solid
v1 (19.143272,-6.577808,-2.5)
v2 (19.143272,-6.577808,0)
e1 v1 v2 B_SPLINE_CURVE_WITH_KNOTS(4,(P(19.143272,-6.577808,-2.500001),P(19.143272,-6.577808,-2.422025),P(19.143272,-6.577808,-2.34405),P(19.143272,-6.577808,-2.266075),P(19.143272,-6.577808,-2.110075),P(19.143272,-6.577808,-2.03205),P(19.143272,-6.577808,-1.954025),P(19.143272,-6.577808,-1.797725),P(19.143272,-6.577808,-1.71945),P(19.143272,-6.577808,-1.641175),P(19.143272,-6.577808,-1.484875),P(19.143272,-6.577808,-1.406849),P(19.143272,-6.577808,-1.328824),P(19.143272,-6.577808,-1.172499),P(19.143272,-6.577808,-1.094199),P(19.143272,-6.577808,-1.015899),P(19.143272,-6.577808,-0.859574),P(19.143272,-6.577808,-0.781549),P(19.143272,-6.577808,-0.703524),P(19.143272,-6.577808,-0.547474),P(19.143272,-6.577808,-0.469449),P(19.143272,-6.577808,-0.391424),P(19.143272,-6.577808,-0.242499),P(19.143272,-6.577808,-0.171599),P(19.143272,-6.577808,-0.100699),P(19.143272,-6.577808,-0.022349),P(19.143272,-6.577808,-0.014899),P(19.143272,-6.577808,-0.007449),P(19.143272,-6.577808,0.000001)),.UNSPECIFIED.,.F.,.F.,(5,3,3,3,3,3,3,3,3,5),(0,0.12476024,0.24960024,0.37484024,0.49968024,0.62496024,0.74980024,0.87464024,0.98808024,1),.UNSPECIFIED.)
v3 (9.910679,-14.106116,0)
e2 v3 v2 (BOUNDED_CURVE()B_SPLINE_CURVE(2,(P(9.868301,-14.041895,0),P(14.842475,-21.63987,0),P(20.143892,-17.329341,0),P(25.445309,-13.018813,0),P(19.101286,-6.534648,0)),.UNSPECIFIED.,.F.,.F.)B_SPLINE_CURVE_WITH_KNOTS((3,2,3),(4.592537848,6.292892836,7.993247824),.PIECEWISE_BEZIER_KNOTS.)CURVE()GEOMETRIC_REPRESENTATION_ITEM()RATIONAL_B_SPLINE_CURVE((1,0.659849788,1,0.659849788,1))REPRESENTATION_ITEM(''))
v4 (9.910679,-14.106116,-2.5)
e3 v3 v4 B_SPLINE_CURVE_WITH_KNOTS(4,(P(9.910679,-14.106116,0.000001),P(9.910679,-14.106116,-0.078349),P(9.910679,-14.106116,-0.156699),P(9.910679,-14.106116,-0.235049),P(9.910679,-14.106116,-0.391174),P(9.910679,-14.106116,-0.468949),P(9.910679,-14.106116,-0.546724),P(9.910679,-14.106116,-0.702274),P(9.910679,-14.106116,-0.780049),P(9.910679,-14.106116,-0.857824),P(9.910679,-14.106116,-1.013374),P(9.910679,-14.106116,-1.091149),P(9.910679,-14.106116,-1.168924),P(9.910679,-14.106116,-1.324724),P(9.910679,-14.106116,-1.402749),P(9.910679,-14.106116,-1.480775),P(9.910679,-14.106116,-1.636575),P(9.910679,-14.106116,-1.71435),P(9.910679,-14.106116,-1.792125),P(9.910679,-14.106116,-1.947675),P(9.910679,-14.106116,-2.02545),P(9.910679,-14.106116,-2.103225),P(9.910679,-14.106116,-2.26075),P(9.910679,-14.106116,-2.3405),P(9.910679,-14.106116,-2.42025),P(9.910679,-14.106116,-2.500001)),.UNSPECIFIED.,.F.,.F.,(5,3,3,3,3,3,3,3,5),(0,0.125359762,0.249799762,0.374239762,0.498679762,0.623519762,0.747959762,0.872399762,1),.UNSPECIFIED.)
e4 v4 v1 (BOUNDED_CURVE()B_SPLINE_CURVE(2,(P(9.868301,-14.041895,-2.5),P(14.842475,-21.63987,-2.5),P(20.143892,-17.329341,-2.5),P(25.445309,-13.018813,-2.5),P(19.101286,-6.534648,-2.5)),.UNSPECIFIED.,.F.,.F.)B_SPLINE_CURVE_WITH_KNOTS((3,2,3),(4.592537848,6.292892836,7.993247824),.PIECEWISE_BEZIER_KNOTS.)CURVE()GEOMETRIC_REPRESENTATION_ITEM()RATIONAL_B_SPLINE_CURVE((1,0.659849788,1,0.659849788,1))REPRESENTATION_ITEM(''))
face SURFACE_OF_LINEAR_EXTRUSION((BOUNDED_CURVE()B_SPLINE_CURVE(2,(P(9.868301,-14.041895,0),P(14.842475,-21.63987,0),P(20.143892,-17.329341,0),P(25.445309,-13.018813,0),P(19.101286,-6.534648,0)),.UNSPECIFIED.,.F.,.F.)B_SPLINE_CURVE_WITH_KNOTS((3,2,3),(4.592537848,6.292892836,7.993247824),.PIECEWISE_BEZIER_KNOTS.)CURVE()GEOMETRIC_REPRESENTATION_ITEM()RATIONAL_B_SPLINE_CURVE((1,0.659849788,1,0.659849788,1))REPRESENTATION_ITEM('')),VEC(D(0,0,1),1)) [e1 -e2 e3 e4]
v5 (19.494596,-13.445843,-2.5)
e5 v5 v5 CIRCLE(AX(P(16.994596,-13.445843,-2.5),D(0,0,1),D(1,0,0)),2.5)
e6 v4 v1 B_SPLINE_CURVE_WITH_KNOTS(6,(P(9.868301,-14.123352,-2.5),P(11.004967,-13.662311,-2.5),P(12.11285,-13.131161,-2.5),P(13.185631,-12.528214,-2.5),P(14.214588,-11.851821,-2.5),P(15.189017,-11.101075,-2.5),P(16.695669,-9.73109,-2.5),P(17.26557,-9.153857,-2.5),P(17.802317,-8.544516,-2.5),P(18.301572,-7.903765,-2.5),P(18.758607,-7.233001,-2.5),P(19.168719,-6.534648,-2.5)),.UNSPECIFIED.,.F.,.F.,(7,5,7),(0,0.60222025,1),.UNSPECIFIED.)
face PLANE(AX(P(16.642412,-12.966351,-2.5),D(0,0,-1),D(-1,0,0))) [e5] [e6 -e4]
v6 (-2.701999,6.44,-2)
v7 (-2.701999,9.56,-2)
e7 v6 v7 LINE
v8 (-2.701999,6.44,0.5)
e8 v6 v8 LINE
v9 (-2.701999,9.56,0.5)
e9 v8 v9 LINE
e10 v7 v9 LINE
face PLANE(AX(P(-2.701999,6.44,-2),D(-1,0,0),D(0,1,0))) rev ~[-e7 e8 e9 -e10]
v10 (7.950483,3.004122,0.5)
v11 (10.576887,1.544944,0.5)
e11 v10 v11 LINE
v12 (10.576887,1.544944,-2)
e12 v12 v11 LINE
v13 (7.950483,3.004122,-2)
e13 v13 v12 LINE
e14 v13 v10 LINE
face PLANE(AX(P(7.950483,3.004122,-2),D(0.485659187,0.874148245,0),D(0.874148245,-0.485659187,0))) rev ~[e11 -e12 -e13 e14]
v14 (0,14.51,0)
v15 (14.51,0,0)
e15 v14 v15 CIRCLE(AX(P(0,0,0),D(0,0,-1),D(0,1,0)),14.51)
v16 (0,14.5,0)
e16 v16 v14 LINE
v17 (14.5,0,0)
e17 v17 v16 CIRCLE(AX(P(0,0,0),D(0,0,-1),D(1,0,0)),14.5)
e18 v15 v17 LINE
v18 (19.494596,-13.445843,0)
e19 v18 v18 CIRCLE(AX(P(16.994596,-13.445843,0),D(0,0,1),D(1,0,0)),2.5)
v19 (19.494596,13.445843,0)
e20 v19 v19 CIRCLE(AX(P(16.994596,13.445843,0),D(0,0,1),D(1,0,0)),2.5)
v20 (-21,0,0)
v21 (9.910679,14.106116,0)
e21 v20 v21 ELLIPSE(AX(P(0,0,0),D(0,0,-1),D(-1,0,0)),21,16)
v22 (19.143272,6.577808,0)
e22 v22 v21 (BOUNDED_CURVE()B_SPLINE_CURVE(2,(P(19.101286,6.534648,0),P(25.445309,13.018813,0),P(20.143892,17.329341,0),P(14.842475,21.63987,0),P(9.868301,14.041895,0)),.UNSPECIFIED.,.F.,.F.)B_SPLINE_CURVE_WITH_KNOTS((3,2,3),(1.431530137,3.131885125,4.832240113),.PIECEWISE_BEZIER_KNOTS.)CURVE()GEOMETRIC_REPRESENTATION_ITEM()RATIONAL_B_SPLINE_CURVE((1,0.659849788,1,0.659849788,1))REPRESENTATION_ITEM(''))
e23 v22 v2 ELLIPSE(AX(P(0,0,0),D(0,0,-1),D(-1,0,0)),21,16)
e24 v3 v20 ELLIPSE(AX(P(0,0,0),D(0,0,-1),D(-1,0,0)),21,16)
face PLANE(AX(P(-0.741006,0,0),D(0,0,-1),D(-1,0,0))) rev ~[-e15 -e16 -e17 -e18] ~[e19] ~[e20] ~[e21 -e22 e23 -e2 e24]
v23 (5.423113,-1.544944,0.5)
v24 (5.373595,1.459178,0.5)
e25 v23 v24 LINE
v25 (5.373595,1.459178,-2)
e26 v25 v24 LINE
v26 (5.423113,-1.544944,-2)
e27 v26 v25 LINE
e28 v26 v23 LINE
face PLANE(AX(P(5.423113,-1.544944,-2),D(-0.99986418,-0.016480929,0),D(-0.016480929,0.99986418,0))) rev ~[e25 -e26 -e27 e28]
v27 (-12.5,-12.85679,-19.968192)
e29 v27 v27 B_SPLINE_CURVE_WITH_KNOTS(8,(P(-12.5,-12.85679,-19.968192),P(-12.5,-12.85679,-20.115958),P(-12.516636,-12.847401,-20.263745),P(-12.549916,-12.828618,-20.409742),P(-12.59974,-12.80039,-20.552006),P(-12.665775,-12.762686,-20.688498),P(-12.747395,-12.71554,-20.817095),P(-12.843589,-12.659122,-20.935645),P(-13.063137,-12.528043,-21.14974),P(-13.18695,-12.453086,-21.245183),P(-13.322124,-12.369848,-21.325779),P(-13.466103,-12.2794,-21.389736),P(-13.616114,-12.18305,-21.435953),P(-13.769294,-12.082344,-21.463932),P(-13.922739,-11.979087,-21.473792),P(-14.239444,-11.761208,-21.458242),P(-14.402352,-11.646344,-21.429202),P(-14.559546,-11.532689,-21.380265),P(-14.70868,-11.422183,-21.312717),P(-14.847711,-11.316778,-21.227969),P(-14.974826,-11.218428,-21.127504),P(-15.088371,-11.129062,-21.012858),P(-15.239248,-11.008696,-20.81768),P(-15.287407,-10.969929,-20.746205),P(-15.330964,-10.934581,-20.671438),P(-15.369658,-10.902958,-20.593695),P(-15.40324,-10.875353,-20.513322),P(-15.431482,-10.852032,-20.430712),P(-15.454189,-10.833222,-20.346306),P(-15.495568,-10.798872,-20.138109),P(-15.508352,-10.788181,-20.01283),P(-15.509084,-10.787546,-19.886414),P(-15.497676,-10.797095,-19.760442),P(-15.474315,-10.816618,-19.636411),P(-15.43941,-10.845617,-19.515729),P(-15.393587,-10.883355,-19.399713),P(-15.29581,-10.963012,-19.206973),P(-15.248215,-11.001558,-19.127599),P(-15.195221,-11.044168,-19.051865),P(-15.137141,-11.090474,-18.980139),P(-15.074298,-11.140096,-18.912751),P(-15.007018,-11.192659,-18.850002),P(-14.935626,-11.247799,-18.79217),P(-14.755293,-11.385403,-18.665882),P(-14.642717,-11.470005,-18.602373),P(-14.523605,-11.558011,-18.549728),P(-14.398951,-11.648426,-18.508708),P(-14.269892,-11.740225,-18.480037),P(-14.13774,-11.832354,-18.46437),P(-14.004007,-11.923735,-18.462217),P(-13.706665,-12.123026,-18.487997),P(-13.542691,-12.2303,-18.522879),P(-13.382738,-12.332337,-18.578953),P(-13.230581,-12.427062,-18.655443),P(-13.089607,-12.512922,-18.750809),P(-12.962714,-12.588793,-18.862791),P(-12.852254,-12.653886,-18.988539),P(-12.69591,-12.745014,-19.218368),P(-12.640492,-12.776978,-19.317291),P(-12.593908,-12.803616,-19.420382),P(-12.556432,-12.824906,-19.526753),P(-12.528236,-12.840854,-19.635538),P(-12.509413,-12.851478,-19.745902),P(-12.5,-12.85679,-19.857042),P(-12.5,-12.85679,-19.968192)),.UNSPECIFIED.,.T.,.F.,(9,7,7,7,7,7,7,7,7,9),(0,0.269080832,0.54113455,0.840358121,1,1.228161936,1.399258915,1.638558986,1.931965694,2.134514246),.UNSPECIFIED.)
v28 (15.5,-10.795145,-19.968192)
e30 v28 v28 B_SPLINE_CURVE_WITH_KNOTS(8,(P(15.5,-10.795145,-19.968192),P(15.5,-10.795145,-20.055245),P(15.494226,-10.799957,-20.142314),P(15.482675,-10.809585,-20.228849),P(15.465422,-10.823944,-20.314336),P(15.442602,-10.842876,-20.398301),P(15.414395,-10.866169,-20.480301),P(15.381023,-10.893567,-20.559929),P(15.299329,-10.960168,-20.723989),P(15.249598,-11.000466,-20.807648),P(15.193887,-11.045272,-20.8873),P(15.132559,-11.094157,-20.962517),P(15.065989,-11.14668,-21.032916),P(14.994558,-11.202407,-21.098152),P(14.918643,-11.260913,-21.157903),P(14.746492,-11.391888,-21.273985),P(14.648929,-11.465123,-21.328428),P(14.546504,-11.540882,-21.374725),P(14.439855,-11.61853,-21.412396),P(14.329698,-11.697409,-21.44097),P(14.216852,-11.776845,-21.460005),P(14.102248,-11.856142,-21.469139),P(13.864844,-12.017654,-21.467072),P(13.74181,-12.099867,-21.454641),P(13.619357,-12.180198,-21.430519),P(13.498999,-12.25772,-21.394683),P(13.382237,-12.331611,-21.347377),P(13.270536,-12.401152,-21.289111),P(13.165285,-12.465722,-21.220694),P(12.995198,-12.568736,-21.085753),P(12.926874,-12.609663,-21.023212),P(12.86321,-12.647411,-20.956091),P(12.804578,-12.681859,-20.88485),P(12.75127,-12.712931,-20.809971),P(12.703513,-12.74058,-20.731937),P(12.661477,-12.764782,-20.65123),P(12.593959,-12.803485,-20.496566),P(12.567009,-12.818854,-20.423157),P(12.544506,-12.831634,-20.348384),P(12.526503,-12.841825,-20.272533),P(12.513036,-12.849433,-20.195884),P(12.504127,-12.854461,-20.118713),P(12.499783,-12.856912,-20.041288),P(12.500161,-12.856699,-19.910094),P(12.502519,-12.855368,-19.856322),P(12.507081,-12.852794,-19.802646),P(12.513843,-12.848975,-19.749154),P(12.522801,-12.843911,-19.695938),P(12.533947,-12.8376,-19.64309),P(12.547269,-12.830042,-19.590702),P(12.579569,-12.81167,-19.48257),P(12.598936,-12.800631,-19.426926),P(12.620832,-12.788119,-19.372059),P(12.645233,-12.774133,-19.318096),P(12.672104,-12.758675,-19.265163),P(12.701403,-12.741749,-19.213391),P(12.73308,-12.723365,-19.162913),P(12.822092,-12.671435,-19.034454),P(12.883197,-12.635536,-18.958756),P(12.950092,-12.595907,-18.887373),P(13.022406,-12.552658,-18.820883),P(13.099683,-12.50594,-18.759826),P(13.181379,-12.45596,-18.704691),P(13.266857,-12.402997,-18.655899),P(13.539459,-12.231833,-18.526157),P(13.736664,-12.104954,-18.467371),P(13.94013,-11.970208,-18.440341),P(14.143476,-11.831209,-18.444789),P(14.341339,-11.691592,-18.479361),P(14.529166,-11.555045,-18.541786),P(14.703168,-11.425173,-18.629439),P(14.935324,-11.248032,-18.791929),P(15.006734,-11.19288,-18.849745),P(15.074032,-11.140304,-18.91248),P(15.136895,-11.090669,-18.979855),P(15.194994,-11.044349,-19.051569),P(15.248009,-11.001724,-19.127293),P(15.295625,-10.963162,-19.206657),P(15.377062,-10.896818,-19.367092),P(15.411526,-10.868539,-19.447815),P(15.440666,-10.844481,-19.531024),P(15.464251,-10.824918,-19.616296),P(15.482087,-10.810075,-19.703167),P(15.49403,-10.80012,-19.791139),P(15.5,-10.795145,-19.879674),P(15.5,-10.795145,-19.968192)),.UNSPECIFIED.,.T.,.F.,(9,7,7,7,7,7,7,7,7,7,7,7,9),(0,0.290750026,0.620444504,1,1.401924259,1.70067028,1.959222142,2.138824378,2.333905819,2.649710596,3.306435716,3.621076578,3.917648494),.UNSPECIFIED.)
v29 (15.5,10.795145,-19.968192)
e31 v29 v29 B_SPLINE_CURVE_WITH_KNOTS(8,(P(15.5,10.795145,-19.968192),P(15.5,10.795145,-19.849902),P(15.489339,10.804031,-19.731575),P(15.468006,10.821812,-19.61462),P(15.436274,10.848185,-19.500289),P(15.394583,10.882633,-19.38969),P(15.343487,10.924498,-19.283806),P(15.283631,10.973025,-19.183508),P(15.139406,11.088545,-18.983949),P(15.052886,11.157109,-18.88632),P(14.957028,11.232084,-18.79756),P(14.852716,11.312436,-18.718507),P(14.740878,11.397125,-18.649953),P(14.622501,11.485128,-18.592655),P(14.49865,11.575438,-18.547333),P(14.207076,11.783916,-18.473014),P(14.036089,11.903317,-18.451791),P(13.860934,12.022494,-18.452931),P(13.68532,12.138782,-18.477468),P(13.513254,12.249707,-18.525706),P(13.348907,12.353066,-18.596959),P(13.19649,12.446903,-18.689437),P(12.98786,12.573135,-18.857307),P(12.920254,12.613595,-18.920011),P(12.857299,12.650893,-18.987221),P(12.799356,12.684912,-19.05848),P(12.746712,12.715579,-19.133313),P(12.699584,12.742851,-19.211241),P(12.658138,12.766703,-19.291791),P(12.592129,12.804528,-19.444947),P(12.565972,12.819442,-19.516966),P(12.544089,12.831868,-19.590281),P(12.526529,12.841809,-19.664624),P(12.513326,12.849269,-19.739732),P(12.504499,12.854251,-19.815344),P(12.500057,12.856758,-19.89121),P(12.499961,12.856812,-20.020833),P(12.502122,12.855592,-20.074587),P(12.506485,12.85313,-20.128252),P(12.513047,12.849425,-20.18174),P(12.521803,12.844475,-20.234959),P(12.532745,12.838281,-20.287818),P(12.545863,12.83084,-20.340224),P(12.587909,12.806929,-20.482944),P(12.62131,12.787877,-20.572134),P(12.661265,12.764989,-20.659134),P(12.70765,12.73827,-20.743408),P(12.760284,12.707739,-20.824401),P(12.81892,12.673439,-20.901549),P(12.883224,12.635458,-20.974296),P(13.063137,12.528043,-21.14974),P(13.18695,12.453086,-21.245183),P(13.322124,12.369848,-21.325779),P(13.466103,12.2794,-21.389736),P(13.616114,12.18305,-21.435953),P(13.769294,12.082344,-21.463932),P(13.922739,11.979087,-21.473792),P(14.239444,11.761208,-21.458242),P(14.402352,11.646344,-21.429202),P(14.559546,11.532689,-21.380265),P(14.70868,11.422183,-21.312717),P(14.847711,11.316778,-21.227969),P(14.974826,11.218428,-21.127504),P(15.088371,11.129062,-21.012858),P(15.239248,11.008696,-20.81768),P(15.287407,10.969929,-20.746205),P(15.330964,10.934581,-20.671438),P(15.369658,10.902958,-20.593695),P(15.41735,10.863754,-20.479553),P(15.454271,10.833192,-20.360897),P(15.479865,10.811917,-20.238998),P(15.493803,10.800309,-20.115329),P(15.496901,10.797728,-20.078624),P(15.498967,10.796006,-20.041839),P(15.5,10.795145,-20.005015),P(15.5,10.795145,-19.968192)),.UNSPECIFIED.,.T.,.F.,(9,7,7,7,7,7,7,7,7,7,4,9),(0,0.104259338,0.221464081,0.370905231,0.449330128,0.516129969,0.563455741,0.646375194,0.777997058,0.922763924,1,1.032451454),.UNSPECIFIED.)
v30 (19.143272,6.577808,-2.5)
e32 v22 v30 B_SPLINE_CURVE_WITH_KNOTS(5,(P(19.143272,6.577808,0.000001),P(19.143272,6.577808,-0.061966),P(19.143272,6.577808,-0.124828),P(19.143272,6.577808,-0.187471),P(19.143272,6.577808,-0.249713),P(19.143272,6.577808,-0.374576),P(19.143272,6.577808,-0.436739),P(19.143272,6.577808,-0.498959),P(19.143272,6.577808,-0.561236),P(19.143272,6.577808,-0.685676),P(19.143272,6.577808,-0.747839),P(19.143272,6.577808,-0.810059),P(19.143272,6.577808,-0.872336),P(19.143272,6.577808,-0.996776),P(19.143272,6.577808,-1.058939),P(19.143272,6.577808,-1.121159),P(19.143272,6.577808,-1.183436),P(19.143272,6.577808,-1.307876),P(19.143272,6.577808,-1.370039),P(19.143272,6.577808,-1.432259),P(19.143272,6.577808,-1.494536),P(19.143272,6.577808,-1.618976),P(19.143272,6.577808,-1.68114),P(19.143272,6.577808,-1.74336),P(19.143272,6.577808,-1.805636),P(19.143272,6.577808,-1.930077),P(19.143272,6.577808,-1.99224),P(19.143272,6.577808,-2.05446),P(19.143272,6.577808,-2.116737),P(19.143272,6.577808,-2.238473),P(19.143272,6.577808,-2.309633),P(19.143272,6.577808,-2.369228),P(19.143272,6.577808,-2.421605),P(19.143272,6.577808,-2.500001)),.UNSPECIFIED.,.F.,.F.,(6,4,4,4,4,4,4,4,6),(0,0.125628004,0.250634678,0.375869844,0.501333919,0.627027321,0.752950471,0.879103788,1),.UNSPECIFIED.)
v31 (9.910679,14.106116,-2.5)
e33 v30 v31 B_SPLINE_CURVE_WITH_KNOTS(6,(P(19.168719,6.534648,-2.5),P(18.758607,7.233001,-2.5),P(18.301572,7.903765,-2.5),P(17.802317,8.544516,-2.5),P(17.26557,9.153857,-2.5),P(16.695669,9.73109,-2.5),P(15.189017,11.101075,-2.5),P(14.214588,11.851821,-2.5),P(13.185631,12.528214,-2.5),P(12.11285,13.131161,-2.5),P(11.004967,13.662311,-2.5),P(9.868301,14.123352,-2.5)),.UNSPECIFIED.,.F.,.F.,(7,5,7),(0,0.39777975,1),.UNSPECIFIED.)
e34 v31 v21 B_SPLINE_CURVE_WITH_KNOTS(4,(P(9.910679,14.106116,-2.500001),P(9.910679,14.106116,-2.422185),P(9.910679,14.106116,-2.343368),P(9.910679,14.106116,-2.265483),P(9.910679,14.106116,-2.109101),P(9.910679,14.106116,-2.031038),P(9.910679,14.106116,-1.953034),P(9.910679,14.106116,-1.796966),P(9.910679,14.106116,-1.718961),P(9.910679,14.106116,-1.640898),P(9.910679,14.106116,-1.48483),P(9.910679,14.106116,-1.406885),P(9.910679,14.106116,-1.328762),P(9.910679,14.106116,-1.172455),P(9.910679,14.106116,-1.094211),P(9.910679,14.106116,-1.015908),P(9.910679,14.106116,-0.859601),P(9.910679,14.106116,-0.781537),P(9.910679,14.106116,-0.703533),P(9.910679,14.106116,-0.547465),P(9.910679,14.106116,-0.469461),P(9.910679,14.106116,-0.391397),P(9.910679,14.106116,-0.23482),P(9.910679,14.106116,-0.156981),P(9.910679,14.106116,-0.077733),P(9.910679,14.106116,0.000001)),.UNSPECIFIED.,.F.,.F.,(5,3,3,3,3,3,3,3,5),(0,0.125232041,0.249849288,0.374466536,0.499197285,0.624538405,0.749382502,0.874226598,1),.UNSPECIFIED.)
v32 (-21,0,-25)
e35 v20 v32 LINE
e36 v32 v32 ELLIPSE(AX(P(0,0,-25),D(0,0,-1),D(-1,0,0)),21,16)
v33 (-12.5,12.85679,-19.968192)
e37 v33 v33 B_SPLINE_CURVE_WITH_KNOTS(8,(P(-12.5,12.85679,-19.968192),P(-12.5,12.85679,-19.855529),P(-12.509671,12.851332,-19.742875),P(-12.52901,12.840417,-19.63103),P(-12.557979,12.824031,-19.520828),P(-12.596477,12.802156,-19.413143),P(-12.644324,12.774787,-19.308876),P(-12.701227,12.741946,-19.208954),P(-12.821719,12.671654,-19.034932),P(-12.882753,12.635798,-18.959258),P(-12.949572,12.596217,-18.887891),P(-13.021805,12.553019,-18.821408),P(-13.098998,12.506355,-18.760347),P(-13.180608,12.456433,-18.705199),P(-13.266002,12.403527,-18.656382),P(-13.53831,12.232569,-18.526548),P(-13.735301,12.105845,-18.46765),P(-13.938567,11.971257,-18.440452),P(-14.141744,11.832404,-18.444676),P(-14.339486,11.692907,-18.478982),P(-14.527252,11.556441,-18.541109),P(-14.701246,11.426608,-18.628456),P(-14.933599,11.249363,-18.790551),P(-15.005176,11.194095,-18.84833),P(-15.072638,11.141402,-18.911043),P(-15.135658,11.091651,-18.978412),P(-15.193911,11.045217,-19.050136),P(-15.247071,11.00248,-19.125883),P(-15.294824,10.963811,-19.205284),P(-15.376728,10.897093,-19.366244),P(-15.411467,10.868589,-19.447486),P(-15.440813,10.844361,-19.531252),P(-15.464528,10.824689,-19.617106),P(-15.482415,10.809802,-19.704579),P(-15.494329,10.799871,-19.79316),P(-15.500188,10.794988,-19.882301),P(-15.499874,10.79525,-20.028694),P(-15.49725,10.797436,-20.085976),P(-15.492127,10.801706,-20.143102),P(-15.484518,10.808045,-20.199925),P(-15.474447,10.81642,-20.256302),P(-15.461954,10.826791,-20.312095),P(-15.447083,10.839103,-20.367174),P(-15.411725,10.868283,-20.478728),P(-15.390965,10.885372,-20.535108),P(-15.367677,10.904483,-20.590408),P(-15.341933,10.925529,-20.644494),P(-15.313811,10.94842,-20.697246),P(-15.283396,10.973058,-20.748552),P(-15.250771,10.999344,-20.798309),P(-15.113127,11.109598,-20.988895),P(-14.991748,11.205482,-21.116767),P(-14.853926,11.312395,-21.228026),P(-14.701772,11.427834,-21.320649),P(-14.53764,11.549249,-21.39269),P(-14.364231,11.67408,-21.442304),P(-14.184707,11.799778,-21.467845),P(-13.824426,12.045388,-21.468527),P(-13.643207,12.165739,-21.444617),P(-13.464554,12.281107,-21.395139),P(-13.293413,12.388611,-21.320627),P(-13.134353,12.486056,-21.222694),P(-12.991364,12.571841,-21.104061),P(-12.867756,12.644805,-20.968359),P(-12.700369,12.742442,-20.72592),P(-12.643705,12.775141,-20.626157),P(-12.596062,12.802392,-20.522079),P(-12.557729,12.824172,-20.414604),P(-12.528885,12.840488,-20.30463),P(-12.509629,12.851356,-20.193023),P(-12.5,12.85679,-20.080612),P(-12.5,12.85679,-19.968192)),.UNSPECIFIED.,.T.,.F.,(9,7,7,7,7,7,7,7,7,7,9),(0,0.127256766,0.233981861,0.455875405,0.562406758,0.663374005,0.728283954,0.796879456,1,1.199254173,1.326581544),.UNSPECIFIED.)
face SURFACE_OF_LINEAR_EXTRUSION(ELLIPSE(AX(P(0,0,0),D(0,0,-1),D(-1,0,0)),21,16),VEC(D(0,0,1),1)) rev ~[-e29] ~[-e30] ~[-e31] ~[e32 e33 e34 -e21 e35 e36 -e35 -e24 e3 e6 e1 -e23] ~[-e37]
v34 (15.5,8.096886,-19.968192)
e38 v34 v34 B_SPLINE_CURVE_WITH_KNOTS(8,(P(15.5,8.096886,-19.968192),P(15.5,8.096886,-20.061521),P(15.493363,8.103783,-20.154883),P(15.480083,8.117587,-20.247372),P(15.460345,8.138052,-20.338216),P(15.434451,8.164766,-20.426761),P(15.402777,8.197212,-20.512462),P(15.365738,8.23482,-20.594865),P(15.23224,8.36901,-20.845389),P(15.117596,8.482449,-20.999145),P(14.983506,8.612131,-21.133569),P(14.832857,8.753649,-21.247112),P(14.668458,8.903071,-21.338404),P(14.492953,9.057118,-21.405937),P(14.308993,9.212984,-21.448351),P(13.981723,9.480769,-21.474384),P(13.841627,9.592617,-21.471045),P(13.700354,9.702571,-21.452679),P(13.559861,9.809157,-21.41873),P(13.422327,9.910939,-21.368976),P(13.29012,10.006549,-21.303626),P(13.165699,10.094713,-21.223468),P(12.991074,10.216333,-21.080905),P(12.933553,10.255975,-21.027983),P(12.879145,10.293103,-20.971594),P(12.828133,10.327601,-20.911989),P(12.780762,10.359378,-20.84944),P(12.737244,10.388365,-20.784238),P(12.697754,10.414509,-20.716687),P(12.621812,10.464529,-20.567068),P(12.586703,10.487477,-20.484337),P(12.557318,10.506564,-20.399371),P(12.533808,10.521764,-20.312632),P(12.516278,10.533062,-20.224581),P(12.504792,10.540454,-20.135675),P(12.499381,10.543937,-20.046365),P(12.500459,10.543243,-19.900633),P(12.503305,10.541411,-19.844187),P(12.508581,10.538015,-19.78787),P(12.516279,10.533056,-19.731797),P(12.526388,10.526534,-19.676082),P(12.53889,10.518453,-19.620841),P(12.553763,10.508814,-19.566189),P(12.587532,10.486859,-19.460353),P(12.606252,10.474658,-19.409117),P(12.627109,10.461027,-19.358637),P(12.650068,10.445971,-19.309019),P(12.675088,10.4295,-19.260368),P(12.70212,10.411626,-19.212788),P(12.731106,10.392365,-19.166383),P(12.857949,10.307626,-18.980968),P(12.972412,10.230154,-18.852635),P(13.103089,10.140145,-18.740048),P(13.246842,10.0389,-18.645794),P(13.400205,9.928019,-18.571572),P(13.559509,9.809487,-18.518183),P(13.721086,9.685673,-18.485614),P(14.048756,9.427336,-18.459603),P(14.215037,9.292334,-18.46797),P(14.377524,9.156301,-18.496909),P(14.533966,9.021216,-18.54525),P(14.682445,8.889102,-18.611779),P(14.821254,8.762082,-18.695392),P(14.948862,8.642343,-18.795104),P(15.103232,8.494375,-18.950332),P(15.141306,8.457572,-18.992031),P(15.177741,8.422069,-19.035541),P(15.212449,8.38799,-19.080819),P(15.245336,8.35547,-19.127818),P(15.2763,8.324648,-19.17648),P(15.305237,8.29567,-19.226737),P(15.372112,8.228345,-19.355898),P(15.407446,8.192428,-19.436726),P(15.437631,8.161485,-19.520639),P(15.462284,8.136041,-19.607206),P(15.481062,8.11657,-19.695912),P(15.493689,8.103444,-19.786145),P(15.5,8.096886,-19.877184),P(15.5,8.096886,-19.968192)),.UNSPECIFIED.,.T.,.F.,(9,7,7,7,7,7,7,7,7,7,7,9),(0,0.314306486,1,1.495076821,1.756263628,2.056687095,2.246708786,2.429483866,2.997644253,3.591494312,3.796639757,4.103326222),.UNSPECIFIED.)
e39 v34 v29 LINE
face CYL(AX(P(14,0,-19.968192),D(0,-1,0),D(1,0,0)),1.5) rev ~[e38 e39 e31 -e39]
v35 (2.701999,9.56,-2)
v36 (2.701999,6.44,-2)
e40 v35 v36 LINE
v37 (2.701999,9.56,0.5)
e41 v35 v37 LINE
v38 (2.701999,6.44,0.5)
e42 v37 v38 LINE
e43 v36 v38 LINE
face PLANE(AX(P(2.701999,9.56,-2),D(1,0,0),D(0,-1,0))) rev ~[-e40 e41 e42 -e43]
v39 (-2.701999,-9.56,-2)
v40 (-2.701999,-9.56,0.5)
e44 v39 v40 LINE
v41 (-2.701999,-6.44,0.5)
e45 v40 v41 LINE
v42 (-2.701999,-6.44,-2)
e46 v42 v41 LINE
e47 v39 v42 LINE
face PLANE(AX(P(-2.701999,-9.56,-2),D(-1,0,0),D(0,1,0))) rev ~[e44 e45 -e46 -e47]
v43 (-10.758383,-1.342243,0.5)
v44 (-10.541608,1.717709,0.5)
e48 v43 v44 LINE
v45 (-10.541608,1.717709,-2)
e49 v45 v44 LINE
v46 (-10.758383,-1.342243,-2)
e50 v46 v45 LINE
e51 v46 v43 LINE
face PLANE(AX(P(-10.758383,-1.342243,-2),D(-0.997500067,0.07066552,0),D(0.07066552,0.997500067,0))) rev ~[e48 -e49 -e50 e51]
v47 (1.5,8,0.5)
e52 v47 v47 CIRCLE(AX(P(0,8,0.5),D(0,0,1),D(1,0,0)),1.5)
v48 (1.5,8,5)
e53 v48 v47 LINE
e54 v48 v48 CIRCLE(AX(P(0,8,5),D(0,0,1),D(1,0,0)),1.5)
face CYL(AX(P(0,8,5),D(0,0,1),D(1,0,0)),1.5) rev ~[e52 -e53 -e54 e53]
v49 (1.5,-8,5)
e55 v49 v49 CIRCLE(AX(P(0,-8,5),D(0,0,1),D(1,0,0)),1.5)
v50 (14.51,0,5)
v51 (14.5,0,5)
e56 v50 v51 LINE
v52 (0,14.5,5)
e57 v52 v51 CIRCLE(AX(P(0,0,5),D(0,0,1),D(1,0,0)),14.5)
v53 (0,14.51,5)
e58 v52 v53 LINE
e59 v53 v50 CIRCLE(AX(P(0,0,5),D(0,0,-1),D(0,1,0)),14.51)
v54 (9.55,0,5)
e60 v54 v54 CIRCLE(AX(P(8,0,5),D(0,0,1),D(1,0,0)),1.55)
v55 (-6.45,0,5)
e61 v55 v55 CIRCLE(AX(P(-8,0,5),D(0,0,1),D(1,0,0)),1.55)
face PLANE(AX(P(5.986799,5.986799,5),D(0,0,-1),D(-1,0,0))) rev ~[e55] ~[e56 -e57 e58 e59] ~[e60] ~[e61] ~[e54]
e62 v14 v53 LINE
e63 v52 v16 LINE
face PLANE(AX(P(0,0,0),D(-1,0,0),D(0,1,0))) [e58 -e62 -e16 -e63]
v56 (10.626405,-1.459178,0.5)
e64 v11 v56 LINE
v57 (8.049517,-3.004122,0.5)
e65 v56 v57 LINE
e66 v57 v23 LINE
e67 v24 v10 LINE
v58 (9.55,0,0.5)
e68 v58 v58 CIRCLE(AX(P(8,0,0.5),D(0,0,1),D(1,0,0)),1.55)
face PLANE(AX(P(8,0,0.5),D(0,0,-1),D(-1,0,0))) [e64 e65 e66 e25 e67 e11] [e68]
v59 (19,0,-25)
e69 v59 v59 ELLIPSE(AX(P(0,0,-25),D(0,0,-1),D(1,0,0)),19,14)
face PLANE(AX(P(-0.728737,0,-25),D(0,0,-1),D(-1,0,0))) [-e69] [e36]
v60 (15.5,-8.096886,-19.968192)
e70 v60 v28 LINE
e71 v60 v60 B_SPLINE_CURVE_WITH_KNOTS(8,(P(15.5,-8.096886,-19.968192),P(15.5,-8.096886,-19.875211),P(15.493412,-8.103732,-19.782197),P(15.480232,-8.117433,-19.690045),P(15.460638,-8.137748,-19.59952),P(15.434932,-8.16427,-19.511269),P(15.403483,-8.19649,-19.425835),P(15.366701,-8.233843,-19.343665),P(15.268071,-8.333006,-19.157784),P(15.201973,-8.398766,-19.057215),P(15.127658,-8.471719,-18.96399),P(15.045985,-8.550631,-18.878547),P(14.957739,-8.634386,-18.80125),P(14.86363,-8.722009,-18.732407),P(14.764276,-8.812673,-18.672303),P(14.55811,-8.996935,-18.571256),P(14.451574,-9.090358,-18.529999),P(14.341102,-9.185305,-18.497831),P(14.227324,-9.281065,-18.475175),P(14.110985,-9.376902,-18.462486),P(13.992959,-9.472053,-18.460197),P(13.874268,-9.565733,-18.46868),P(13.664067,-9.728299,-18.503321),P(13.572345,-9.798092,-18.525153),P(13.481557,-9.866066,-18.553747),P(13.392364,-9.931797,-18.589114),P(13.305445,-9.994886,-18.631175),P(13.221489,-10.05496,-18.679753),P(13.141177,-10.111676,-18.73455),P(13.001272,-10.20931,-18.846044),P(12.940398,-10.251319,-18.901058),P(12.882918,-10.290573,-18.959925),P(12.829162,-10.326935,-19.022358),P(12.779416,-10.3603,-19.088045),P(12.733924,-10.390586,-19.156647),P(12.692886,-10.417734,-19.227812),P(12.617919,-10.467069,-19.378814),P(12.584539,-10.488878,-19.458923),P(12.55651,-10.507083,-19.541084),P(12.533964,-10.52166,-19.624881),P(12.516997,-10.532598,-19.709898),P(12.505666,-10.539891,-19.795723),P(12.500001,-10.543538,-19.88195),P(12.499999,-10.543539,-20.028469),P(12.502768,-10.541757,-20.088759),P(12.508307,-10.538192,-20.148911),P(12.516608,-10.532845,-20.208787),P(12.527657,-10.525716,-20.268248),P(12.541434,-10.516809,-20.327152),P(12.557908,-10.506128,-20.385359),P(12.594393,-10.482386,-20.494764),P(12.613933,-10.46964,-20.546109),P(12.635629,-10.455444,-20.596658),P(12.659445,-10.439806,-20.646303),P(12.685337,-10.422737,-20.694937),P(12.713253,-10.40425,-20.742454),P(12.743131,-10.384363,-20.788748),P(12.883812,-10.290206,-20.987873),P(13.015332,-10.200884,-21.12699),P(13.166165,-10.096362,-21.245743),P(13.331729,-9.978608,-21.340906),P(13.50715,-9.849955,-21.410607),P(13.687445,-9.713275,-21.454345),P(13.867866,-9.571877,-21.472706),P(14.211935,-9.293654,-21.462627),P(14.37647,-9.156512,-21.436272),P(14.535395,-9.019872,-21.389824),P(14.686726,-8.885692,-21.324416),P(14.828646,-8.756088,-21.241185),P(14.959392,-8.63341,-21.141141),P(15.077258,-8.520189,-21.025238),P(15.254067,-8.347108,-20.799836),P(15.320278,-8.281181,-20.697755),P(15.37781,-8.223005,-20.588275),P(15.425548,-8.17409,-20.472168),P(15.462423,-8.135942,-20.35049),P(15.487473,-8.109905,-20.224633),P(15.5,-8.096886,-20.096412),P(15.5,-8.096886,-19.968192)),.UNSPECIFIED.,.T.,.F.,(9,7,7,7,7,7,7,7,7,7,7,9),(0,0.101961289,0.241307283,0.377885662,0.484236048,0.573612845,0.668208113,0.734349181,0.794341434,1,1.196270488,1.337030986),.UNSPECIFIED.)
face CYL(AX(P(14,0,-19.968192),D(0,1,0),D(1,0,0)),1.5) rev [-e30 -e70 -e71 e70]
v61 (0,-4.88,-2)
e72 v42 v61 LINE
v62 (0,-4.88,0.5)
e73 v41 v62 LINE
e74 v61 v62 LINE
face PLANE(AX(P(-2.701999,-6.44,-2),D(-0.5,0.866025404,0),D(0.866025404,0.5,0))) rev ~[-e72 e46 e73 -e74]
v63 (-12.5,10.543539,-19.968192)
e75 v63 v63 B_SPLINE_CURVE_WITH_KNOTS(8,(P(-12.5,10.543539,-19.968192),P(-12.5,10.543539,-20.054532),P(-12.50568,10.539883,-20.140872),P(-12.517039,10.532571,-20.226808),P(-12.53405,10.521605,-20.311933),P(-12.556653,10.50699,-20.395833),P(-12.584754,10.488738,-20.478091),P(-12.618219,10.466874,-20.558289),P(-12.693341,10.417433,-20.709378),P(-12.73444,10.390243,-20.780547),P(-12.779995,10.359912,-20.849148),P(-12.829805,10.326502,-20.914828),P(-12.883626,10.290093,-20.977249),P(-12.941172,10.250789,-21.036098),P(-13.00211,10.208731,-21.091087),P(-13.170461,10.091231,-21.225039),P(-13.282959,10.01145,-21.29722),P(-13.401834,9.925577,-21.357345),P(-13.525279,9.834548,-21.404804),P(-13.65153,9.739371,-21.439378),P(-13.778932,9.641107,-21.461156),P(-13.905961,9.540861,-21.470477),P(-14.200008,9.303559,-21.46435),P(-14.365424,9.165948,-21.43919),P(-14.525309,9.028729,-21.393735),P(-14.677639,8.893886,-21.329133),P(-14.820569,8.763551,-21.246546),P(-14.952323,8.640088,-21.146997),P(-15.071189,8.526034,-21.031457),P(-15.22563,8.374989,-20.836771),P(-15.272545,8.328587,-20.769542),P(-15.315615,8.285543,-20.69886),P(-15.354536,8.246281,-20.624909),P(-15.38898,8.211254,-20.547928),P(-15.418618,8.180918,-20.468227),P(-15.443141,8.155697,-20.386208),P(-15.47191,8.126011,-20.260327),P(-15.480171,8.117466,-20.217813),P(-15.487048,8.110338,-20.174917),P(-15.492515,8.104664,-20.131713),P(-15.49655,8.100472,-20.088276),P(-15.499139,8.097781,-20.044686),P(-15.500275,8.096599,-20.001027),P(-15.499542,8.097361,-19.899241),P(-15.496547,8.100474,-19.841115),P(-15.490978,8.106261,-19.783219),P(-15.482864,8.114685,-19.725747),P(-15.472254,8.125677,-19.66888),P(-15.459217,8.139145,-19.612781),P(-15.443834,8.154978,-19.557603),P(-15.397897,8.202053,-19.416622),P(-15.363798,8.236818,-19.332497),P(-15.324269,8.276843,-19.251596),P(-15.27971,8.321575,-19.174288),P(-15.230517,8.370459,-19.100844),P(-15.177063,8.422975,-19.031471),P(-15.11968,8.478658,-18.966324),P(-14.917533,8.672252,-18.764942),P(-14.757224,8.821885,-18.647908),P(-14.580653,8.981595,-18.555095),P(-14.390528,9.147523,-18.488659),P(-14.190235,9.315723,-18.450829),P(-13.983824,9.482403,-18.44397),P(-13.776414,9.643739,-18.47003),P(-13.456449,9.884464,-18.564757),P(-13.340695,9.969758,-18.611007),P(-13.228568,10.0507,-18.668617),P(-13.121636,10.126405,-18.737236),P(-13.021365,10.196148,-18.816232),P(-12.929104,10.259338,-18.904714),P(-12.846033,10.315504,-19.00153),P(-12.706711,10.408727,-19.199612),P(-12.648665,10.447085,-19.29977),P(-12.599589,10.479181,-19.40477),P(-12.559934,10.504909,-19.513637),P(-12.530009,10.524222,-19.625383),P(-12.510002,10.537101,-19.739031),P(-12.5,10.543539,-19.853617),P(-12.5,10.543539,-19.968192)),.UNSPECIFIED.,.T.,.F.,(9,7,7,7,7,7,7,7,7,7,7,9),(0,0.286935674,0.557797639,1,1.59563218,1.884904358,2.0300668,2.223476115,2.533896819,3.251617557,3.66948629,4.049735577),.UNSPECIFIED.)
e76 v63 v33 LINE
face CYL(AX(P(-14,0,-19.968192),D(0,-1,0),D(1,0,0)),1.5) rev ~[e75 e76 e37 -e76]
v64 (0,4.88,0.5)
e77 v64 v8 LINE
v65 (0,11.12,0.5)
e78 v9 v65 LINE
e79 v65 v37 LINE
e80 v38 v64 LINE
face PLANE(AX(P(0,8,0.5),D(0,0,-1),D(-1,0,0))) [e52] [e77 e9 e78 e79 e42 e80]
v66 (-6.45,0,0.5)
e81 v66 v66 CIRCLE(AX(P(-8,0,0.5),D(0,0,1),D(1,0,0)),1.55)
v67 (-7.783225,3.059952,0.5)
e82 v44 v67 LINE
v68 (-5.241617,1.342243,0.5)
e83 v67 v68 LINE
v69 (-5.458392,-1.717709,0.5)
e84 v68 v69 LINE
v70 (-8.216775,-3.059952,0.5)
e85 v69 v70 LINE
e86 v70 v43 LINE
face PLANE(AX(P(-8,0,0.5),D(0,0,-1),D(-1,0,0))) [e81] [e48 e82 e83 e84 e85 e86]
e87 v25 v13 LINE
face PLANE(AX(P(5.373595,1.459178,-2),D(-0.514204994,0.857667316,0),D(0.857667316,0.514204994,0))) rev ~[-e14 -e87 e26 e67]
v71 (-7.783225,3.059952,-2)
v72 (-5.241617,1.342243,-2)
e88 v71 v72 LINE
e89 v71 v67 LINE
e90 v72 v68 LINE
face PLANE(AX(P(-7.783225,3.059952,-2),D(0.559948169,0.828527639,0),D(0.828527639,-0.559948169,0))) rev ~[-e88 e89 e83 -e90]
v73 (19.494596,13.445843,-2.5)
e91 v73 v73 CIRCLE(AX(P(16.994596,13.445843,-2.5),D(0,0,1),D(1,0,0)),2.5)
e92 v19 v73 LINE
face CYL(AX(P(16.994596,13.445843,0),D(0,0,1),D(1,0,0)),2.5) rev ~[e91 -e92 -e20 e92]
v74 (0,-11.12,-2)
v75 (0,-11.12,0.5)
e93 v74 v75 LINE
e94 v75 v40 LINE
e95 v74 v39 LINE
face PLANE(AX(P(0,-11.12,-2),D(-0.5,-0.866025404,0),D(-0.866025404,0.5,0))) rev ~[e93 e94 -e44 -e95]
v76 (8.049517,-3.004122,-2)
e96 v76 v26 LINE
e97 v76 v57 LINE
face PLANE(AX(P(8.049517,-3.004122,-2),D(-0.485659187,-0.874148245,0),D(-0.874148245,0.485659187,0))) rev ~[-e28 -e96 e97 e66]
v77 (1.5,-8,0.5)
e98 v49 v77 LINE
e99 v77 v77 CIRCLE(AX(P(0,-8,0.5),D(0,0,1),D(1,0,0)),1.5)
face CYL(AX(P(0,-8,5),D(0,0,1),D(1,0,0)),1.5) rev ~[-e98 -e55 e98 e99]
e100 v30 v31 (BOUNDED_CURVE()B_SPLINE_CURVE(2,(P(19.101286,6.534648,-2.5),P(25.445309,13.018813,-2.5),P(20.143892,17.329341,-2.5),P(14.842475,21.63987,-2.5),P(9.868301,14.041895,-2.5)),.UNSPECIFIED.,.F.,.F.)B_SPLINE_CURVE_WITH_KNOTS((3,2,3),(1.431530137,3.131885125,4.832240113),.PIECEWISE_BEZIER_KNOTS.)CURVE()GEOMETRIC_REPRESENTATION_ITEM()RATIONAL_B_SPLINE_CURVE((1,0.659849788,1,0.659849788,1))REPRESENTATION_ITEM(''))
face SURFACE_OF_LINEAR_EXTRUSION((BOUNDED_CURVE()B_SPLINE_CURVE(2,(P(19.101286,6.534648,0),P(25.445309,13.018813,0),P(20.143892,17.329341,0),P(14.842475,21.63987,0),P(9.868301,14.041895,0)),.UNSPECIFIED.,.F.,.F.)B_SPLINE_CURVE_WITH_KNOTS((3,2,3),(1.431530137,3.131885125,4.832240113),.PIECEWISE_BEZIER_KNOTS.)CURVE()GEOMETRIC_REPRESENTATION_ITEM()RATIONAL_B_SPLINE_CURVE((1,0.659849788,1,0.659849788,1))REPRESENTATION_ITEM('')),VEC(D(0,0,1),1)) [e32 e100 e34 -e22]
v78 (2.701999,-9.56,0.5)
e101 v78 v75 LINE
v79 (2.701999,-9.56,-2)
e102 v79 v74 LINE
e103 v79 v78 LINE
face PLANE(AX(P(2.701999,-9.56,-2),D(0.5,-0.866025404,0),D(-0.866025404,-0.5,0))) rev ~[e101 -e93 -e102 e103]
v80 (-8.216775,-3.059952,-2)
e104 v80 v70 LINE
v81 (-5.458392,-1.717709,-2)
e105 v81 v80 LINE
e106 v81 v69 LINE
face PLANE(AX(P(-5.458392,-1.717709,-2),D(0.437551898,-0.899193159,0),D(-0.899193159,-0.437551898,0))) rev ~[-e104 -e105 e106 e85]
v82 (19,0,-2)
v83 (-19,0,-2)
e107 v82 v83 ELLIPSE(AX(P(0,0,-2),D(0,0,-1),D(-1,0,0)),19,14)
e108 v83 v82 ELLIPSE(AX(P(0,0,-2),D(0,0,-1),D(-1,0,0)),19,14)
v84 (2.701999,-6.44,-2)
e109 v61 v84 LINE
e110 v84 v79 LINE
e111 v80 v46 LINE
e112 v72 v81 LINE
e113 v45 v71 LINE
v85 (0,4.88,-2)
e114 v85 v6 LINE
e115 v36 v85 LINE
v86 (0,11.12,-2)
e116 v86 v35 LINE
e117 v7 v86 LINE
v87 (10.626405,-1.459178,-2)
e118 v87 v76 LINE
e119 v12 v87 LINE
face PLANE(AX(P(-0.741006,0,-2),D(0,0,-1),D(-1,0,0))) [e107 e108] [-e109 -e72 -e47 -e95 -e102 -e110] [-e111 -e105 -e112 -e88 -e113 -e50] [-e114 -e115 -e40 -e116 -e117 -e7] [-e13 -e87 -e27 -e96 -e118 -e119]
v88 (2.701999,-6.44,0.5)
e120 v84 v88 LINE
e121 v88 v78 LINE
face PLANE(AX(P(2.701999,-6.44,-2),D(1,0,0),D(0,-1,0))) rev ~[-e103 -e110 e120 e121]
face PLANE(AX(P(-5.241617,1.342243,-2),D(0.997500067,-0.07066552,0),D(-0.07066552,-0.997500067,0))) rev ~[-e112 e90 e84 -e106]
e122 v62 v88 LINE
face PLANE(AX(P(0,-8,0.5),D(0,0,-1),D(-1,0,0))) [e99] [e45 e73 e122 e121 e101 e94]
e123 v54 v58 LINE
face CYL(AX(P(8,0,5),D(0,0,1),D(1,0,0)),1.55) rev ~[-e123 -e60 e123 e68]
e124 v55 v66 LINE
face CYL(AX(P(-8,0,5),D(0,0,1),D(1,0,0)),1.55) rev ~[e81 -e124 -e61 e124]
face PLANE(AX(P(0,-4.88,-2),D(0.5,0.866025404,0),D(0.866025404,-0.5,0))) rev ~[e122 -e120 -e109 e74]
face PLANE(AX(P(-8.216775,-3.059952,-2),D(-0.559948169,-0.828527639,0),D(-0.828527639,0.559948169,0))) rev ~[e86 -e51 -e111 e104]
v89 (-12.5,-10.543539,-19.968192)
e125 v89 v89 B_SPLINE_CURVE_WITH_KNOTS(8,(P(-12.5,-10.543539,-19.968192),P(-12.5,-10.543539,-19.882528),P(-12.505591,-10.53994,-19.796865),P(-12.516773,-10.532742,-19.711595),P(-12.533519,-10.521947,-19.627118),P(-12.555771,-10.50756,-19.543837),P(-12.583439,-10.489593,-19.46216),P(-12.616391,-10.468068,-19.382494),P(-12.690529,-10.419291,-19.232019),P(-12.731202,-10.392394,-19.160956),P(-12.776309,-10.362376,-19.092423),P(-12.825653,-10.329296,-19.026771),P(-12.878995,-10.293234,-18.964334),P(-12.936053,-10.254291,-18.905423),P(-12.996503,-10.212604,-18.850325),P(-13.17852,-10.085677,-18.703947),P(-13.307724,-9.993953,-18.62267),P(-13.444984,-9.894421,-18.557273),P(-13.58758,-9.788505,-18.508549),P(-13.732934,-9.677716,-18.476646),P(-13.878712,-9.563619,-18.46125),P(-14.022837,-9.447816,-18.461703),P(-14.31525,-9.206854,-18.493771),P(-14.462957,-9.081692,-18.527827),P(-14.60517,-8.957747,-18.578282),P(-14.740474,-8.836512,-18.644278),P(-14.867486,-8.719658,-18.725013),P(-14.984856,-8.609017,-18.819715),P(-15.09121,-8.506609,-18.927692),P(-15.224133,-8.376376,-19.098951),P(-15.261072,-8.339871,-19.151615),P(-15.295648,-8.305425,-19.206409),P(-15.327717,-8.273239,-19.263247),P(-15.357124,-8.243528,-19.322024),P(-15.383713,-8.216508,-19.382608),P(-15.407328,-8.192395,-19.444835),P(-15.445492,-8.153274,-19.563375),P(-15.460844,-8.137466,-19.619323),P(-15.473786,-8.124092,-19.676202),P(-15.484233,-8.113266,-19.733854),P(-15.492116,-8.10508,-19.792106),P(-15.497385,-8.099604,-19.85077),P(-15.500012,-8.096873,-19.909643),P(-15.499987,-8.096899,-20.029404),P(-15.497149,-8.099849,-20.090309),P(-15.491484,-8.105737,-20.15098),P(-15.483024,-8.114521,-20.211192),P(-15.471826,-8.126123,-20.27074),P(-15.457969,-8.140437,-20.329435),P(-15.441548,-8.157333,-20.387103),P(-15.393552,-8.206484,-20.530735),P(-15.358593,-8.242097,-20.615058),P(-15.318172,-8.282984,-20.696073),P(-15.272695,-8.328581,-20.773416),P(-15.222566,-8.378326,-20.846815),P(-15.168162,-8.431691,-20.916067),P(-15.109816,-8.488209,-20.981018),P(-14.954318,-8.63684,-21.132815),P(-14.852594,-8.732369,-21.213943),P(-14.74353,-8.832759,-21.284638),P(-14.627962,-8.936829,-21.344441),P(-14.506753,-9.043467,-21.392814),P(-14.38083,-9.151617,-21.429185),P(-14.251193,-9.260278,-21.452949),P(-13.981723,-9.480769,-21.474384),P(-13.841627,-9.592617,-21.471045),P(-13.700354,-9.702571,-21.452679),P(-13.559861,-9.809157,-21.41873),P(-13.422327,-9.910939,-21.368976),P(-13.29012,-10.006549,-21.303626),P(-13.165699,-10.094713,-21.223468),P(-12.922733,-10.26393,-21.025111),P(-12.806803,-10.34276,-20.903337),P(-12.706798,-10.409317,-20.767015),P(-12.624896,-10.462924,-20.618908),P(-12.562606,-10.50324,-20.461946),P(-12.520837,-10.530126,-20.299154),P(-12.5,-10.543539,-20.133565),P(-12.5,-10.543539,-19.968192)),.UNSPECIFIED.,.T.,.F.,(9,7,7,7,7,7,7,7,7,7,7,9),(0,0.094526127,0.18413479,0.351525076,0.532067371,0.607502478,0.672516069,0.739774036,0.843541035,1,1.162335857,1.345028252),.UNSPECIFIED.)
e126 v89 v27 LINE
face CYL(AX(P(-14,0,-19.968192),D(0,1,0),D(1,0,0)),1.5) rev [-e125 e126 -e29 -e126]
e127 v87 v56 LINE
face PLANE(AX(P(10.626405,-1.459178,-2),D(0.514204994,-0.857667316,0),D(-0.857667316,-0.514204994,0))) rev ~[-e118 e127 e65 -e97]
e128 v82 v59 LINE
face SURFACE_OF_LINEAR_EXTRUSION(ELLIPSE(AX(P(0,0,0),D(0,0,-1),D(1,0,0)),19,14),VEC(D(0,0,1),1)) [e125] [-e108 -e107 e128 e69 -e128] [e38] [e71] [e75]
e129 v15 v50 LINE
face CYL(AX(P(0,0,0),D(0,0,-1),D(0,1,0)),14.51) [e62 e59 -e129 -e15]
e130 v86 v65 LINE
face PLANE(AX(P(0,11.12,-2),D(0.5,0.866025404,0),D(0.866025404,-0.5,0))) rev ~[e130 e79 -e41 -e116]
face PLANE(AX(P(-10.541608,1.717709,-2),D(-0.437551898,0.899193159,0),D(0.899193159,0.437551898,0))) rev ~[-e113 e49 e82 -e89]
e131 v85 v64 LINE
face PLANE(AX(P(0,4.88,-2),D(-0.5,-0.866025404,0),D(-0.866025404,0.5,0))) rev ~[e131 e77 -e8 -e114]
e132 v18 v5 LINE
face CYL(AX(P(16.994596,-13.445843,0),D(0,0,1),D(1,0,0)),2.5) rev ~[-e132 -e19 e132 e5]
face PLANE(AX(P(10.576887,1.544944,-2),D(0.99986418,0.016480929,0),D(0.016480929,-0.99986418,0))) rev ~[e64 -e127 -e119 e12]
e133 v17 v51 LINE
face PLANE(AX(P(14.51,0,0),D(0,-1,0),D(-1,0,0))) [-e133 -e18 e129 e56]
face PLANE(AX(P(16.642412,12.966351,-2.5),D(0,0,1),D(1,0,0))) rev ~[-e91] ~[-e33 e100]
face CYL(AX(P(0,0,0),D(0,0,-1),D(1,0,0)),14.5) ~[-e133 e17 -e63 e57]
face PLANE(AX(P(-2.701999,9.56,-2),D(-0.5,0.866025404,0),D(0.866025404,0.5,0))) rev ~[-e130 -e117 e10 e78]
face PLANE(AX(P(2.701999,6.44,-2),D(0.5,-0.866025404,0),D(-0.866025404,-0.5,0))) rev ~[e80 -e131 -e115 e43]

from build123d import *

# Parameters (mm, degrees)
SKETCH_1_R                      = 14.5
EXTRUDE_1_DEPTH                 = 5
EXTRUDE_2_DEPTH                 = 5
SKETCH_10_RX                    = 21
SKETCH_10_RY                    = 16
SKETCH_10_RX_2                  = 19
SKETCH_10_RY_2                  = 14
EXTRUDE_4_DEPTH                 = 25
SKETCH_12_RX                    = 19
SKETCH_12_RY                    = 14
EXTRUDE_5_DEPTH                 = 2
SKETCH_15_R                     = 2.5
EXTRUDE_7_DEPTH                 = 2.5
CUT_EXTRUDE_6_REACH             = 20.388
SKETCH_16_R                     = 1.5
CUT_EXTRUDE_6_DIRECTION_2_REACH = 20.388
CUT_EXTRUDE_7_REACH             = 32
SKETCH_17_R                     = 1.55
SKETCH_17_R_2                   = 1.5
CUT_EXTRUDE_10_DEPTH            = 2.5


with BuildPart() as part:
    # 草图1 → 凸台-拉伸1 (new body)
    with BuildSketch(Plane.XY):
        Circle(SKETCH_1_R)
    extrude(amount=EXTRUDE_1_DEPTH)

    # 草图2 → 凸台-拉伸2 (add)
    with BuildSketch(Plane(origin=(0, 0, 0), x_dir=(-1, 0, 0), z_dir=(0, 0, -1))):
        with BuildLine():
            Line((-14.51, 0), (0, 0))
            Line((0, 0), (0, 14.51))
            ThreePointArc((0, 14.51), (-10.260119395, 10.260119395), (-14.51, 0))
        make_face()
    extrude(amount=-EXTRUDE_2_DEPTH)

    # 草图10 → 凸台-拉伸4 (add)
    with BuildSketch(Plane(origin=(0, 0, 0), x_dir=(-1, 0, 0), z_dir=(0, 0, -1))):
        with Locations((0, 0)):
            Ellipse(SKETCH_10_RX, SKETCH_10_RY)
        with Locations(Location((0, 0), (0, 0, 180))):
            Ellipse(SKETCH_10_RX_2, SKETCH_10_RY_2, mode=Mode.SUBTRACT)
    extrude(amount=EXTRUDE_4_DEPTH)

    # 草图12 → 凸台-拉伸5 (add)
    with BuildSketch(Plane(origin=(0, 0, 0), x_dir=(-1, 0, 0), z_dir=(0, 0, -1))):
        with Locations(Location((0, 0), (0, 0, 0))):
            Ellipse(SKETCH_12_RX, SKETCH_12_RY)
    extrude(amount=EXTRUDE_5_DEPTH)

    # 草图15 → 凸台-拉伸7 (add)
    with BuildSketch(Plane.XY):
        with BuildLine():
            Line((9.868300698, 14.041895092), (19.101285737, 6.53464828))
            add(Edge.make_bspline(
                [(19.101285737, 6.53464828), (25.445309186, 13.018812615), (20.143892045, 17.329341308), (14.842474903, 21.639870001), (9.868300698, 14.041895092)],
                knots=[1.431530137, 1.431530137, 1.431530137, 3.131885125, 3.131885125, 4.832240113, 4.832240113, 4.832240113], degree=2, weights=[1, 0.659849788, 1, 0.659849788, 1]))
        make_face()
        with Locations((16.994596472, 13.445842819)):
            Circle(SKETCH_15_R, mode=Mode.SUBTRACT)
        with BuildLine():
            Line((9.868300698, -14.041895092), (19.101285737, -6.53464828))
            add(Edge.make_bspline(
                [(9.868300698, -14.041895092), (14.842474903, -21.639870001), (20.143892045, -17.329341308), (25.445309186, -13.018812615), (19.101285737, -6.53464828)],
                knots=[4.592537848, 4.592537848, 4.592537848, 6.292892836, 6.292892836, 7.993247824, 7.993247824, 7.993247824], degree=2, weights=[1, 0.659849788, 1, 0.659849788, 1]))
        make_face()
        with Locations((16.994596472, -13.445842819)):
            Circle(SKETCH_15_R, mode=Mode.SUBTRACT)
    extrude(amount=-EXTRUDE_7_DEPTH)

    # 草图16 → 切除-拉伸6 (cut, up to next)
    with BuildSketch(Plane.XZ, mode=Mode.PRIVATE) as cut_extrude_6_sk1:
        with Locations((14, -19.968191924)):
            Circle(SKETCH_16_R)
    cut_extrude_6_tool1 = extrude(cut_extrude_6_sk1.sketch, amount=-CUT_EXTRUDE_6_REACH, mode=Mode.PRIVATE) & part.part
    add(cut_extrude_6_tool1.solids().sort_by_distance((14, 0, -19.968192))[0], mode=Mode.SUBTRACT)
    # 草图16 → 切除-拉伸6 (cut, up to next)
    with BuildSketch(Plane.XZ, mode=Mode.PRIVATE) as cut_extrude_6_sk2:
        with Locations((-14, -19.968191924)):
            Circle(SKETCH_16_R)
    cut_extrude_6_tool2 = extrude(cut_extrude_6_sk2.sketch, amount=-CUT_EXTRUDE_6_REACH, mode=Mode.PRIVATE) & part.part
    add(cut_extrude_6_tool2.solids().sort_by_distance((-14, 0, -19.968192))[0], mode=Mode.SUBTRACT)

    # 草图16 → 切除-拉伸6 direction 2 (cut, up to next)
    with BuildSketch(Plane.XZ, mode=Mode.PRIVATE) as cut_extrude_6_direction_2_sk1:
        with Locations((14, -19.968191924)):
            Circle(SKETCH_16_R)
    cut_extrude_6_direction_2_tool1 = extrude(cut_extrude_6_direction_2_sk1.sketch, amount=CUT_EXTRUDE_6_DIRECTION_2_REACH, mode=Mode.PRIVATE) & part.part
    add(cut_extrude_6_direction_2_tool1.solids().sort_by_distance((14, 0, -19.968192))[0], mode=Mode.SUBTRACT)
    # 草图16 → 切除-拉伸6 direction 2 (cut, up to next)
    with BuildSketch(Plane.XZ, mode=Mode.PRIVATE) as cut_extrude_6_direction_2_sk2:
        with Locations((-14, -19.968191924)):
            Circle(SKETCH_16_R)
    cut_extrude_6_direction_2_tool2 = extrude(cut_extrude_6_direction_2_sk2.sketch, amount=CUT_EXTRUDE_6_DIRECTION_2_REACH, mode=Mode.PRIVATE) & part.part
    add(cut_extrude_6_direction_2_tool2.solids().sort_by_distance((-14, 0, -19.968192))[0], mode=Mode.SUBTRACT)

    # 草图17 → 切除-拉伸7 (cut, up to next)
    with BuildSketch(Plane.XY.offset(5), mode=Mode.PRIVATE) as cut_extrude_7_sk1:
        with Locations((-8, 0)):
            Circle(SKETCH_17_R)
    cut_extrude_7_tool1 = extrude(cut_extrude_7_sk1.sketch, amount=-CUT_EXTRUDE_7_REACH, mode=Mode.PRIVATE) & part.part
    add(cut_extrude_7_tool1.solids().sort_by_distance((-8, 0, 5))[0], mode=Mode.SUBTRACT)
    # 草图17 → 切除-拉伸7 (cut, up to next)
    with BuildSketch(Plane.XY.offset(5), mode=Mode.PRIVATE) as cut_extrude_7_sk2:
        with Locations((8, 0)):
            Circle(SKETCH_17_R)
    cut_extrude_7_tool2 = extrude(cut_extrude_7_sk2.sketch, amount=-CUT_EXTRUDE_7_REACH, mode=Mode.PRIVATE) & part.part
    add(cut_extrude_7_tool2.solids().sort_by_distance((8, 0, 5))[0], mode=Mode.SUBTRACT)
    # 草图17 → 切除-拉伸7 (cut, up to next)
    with BuildSketch(Plane.XY.offset(5), mode=Mode.PRIVATE) as cut_extrude_7_sk3:
        with Locations((0, 8)):
            Circle(SKETCH_17_R_2)
    cut_extrude_7_tool3 = extrude(cut_extrude_7_sk3.sketch, amount=-CUT_EXTRUDE_7_REACH, mode=Mode.PRIVATE) & part.part
    add(cut_extrude_7_tool3.solids().sort_by_distance((0, 8, 5))[0], mode=Mode.SUBTRACT)
    # 草图17 → 切除-拉伸7 (cut, up to next)
    with BuildSketch(Plane.XY.offset(5), mode=Mode.PRIVATE) as cut_extrude_7_sk4:
        with Locations((0, -8)):
            Circle(SKETCH_17_R_2)
    cut_extrude_7_tool4 = extrude(cut_extrude_7_sk4.sketch, amount=-CUT_EXTRUDE_7_REACH, mode=Mode.PRIVATE) & part.part
    add(cut_extrude_7_tool4.solids().sort_by_distance((0, -8, 5))[0], mode=Mode.SUBTRACT)

    # 草图19 → 切除-拉伸10 (cut)
    with BuildSketch(Plane(origin=(0, 0, -2), x_dir=(-1, 0, 0), z_dir=(0, 0, -1))):
        Polygon((-5.423112866, -1.544944302), (-5.37359542, 1.45917757), (-7.950482554, 3.004121872), (-10.576887134, 1.544944302), (-10.62640458, -1.45917757), (-8.049517446, -3.004121872), align=None)
        Polygon((5.458391585, -1.717708514), (8.216775002, -3.059951711), (10.758383417, -1.342243197), (10.541608415, 1.717708514), (7.783224998, 3.059951711), (5.241616583, 1.342243197), align=None)
        Polygon((0, 4.88), (2.70199926, 6.44), (2.70199926, 9.56), (0, 11.12), (-2.70199926, 9.56), (-2.70199926, 6.44), align=None)
        Polygon((0, -11.12), (2.70199926, -9.56), (2.70199926, -6.44), (0, -4.88), (-2.70199926, -6.44), (-2.70199926, -9.56), align=None)
    extrude(amount=-CUT_EXTRUDE_10_DEPTH, mode=Mode.SUBTRACT)


solid = part.part
